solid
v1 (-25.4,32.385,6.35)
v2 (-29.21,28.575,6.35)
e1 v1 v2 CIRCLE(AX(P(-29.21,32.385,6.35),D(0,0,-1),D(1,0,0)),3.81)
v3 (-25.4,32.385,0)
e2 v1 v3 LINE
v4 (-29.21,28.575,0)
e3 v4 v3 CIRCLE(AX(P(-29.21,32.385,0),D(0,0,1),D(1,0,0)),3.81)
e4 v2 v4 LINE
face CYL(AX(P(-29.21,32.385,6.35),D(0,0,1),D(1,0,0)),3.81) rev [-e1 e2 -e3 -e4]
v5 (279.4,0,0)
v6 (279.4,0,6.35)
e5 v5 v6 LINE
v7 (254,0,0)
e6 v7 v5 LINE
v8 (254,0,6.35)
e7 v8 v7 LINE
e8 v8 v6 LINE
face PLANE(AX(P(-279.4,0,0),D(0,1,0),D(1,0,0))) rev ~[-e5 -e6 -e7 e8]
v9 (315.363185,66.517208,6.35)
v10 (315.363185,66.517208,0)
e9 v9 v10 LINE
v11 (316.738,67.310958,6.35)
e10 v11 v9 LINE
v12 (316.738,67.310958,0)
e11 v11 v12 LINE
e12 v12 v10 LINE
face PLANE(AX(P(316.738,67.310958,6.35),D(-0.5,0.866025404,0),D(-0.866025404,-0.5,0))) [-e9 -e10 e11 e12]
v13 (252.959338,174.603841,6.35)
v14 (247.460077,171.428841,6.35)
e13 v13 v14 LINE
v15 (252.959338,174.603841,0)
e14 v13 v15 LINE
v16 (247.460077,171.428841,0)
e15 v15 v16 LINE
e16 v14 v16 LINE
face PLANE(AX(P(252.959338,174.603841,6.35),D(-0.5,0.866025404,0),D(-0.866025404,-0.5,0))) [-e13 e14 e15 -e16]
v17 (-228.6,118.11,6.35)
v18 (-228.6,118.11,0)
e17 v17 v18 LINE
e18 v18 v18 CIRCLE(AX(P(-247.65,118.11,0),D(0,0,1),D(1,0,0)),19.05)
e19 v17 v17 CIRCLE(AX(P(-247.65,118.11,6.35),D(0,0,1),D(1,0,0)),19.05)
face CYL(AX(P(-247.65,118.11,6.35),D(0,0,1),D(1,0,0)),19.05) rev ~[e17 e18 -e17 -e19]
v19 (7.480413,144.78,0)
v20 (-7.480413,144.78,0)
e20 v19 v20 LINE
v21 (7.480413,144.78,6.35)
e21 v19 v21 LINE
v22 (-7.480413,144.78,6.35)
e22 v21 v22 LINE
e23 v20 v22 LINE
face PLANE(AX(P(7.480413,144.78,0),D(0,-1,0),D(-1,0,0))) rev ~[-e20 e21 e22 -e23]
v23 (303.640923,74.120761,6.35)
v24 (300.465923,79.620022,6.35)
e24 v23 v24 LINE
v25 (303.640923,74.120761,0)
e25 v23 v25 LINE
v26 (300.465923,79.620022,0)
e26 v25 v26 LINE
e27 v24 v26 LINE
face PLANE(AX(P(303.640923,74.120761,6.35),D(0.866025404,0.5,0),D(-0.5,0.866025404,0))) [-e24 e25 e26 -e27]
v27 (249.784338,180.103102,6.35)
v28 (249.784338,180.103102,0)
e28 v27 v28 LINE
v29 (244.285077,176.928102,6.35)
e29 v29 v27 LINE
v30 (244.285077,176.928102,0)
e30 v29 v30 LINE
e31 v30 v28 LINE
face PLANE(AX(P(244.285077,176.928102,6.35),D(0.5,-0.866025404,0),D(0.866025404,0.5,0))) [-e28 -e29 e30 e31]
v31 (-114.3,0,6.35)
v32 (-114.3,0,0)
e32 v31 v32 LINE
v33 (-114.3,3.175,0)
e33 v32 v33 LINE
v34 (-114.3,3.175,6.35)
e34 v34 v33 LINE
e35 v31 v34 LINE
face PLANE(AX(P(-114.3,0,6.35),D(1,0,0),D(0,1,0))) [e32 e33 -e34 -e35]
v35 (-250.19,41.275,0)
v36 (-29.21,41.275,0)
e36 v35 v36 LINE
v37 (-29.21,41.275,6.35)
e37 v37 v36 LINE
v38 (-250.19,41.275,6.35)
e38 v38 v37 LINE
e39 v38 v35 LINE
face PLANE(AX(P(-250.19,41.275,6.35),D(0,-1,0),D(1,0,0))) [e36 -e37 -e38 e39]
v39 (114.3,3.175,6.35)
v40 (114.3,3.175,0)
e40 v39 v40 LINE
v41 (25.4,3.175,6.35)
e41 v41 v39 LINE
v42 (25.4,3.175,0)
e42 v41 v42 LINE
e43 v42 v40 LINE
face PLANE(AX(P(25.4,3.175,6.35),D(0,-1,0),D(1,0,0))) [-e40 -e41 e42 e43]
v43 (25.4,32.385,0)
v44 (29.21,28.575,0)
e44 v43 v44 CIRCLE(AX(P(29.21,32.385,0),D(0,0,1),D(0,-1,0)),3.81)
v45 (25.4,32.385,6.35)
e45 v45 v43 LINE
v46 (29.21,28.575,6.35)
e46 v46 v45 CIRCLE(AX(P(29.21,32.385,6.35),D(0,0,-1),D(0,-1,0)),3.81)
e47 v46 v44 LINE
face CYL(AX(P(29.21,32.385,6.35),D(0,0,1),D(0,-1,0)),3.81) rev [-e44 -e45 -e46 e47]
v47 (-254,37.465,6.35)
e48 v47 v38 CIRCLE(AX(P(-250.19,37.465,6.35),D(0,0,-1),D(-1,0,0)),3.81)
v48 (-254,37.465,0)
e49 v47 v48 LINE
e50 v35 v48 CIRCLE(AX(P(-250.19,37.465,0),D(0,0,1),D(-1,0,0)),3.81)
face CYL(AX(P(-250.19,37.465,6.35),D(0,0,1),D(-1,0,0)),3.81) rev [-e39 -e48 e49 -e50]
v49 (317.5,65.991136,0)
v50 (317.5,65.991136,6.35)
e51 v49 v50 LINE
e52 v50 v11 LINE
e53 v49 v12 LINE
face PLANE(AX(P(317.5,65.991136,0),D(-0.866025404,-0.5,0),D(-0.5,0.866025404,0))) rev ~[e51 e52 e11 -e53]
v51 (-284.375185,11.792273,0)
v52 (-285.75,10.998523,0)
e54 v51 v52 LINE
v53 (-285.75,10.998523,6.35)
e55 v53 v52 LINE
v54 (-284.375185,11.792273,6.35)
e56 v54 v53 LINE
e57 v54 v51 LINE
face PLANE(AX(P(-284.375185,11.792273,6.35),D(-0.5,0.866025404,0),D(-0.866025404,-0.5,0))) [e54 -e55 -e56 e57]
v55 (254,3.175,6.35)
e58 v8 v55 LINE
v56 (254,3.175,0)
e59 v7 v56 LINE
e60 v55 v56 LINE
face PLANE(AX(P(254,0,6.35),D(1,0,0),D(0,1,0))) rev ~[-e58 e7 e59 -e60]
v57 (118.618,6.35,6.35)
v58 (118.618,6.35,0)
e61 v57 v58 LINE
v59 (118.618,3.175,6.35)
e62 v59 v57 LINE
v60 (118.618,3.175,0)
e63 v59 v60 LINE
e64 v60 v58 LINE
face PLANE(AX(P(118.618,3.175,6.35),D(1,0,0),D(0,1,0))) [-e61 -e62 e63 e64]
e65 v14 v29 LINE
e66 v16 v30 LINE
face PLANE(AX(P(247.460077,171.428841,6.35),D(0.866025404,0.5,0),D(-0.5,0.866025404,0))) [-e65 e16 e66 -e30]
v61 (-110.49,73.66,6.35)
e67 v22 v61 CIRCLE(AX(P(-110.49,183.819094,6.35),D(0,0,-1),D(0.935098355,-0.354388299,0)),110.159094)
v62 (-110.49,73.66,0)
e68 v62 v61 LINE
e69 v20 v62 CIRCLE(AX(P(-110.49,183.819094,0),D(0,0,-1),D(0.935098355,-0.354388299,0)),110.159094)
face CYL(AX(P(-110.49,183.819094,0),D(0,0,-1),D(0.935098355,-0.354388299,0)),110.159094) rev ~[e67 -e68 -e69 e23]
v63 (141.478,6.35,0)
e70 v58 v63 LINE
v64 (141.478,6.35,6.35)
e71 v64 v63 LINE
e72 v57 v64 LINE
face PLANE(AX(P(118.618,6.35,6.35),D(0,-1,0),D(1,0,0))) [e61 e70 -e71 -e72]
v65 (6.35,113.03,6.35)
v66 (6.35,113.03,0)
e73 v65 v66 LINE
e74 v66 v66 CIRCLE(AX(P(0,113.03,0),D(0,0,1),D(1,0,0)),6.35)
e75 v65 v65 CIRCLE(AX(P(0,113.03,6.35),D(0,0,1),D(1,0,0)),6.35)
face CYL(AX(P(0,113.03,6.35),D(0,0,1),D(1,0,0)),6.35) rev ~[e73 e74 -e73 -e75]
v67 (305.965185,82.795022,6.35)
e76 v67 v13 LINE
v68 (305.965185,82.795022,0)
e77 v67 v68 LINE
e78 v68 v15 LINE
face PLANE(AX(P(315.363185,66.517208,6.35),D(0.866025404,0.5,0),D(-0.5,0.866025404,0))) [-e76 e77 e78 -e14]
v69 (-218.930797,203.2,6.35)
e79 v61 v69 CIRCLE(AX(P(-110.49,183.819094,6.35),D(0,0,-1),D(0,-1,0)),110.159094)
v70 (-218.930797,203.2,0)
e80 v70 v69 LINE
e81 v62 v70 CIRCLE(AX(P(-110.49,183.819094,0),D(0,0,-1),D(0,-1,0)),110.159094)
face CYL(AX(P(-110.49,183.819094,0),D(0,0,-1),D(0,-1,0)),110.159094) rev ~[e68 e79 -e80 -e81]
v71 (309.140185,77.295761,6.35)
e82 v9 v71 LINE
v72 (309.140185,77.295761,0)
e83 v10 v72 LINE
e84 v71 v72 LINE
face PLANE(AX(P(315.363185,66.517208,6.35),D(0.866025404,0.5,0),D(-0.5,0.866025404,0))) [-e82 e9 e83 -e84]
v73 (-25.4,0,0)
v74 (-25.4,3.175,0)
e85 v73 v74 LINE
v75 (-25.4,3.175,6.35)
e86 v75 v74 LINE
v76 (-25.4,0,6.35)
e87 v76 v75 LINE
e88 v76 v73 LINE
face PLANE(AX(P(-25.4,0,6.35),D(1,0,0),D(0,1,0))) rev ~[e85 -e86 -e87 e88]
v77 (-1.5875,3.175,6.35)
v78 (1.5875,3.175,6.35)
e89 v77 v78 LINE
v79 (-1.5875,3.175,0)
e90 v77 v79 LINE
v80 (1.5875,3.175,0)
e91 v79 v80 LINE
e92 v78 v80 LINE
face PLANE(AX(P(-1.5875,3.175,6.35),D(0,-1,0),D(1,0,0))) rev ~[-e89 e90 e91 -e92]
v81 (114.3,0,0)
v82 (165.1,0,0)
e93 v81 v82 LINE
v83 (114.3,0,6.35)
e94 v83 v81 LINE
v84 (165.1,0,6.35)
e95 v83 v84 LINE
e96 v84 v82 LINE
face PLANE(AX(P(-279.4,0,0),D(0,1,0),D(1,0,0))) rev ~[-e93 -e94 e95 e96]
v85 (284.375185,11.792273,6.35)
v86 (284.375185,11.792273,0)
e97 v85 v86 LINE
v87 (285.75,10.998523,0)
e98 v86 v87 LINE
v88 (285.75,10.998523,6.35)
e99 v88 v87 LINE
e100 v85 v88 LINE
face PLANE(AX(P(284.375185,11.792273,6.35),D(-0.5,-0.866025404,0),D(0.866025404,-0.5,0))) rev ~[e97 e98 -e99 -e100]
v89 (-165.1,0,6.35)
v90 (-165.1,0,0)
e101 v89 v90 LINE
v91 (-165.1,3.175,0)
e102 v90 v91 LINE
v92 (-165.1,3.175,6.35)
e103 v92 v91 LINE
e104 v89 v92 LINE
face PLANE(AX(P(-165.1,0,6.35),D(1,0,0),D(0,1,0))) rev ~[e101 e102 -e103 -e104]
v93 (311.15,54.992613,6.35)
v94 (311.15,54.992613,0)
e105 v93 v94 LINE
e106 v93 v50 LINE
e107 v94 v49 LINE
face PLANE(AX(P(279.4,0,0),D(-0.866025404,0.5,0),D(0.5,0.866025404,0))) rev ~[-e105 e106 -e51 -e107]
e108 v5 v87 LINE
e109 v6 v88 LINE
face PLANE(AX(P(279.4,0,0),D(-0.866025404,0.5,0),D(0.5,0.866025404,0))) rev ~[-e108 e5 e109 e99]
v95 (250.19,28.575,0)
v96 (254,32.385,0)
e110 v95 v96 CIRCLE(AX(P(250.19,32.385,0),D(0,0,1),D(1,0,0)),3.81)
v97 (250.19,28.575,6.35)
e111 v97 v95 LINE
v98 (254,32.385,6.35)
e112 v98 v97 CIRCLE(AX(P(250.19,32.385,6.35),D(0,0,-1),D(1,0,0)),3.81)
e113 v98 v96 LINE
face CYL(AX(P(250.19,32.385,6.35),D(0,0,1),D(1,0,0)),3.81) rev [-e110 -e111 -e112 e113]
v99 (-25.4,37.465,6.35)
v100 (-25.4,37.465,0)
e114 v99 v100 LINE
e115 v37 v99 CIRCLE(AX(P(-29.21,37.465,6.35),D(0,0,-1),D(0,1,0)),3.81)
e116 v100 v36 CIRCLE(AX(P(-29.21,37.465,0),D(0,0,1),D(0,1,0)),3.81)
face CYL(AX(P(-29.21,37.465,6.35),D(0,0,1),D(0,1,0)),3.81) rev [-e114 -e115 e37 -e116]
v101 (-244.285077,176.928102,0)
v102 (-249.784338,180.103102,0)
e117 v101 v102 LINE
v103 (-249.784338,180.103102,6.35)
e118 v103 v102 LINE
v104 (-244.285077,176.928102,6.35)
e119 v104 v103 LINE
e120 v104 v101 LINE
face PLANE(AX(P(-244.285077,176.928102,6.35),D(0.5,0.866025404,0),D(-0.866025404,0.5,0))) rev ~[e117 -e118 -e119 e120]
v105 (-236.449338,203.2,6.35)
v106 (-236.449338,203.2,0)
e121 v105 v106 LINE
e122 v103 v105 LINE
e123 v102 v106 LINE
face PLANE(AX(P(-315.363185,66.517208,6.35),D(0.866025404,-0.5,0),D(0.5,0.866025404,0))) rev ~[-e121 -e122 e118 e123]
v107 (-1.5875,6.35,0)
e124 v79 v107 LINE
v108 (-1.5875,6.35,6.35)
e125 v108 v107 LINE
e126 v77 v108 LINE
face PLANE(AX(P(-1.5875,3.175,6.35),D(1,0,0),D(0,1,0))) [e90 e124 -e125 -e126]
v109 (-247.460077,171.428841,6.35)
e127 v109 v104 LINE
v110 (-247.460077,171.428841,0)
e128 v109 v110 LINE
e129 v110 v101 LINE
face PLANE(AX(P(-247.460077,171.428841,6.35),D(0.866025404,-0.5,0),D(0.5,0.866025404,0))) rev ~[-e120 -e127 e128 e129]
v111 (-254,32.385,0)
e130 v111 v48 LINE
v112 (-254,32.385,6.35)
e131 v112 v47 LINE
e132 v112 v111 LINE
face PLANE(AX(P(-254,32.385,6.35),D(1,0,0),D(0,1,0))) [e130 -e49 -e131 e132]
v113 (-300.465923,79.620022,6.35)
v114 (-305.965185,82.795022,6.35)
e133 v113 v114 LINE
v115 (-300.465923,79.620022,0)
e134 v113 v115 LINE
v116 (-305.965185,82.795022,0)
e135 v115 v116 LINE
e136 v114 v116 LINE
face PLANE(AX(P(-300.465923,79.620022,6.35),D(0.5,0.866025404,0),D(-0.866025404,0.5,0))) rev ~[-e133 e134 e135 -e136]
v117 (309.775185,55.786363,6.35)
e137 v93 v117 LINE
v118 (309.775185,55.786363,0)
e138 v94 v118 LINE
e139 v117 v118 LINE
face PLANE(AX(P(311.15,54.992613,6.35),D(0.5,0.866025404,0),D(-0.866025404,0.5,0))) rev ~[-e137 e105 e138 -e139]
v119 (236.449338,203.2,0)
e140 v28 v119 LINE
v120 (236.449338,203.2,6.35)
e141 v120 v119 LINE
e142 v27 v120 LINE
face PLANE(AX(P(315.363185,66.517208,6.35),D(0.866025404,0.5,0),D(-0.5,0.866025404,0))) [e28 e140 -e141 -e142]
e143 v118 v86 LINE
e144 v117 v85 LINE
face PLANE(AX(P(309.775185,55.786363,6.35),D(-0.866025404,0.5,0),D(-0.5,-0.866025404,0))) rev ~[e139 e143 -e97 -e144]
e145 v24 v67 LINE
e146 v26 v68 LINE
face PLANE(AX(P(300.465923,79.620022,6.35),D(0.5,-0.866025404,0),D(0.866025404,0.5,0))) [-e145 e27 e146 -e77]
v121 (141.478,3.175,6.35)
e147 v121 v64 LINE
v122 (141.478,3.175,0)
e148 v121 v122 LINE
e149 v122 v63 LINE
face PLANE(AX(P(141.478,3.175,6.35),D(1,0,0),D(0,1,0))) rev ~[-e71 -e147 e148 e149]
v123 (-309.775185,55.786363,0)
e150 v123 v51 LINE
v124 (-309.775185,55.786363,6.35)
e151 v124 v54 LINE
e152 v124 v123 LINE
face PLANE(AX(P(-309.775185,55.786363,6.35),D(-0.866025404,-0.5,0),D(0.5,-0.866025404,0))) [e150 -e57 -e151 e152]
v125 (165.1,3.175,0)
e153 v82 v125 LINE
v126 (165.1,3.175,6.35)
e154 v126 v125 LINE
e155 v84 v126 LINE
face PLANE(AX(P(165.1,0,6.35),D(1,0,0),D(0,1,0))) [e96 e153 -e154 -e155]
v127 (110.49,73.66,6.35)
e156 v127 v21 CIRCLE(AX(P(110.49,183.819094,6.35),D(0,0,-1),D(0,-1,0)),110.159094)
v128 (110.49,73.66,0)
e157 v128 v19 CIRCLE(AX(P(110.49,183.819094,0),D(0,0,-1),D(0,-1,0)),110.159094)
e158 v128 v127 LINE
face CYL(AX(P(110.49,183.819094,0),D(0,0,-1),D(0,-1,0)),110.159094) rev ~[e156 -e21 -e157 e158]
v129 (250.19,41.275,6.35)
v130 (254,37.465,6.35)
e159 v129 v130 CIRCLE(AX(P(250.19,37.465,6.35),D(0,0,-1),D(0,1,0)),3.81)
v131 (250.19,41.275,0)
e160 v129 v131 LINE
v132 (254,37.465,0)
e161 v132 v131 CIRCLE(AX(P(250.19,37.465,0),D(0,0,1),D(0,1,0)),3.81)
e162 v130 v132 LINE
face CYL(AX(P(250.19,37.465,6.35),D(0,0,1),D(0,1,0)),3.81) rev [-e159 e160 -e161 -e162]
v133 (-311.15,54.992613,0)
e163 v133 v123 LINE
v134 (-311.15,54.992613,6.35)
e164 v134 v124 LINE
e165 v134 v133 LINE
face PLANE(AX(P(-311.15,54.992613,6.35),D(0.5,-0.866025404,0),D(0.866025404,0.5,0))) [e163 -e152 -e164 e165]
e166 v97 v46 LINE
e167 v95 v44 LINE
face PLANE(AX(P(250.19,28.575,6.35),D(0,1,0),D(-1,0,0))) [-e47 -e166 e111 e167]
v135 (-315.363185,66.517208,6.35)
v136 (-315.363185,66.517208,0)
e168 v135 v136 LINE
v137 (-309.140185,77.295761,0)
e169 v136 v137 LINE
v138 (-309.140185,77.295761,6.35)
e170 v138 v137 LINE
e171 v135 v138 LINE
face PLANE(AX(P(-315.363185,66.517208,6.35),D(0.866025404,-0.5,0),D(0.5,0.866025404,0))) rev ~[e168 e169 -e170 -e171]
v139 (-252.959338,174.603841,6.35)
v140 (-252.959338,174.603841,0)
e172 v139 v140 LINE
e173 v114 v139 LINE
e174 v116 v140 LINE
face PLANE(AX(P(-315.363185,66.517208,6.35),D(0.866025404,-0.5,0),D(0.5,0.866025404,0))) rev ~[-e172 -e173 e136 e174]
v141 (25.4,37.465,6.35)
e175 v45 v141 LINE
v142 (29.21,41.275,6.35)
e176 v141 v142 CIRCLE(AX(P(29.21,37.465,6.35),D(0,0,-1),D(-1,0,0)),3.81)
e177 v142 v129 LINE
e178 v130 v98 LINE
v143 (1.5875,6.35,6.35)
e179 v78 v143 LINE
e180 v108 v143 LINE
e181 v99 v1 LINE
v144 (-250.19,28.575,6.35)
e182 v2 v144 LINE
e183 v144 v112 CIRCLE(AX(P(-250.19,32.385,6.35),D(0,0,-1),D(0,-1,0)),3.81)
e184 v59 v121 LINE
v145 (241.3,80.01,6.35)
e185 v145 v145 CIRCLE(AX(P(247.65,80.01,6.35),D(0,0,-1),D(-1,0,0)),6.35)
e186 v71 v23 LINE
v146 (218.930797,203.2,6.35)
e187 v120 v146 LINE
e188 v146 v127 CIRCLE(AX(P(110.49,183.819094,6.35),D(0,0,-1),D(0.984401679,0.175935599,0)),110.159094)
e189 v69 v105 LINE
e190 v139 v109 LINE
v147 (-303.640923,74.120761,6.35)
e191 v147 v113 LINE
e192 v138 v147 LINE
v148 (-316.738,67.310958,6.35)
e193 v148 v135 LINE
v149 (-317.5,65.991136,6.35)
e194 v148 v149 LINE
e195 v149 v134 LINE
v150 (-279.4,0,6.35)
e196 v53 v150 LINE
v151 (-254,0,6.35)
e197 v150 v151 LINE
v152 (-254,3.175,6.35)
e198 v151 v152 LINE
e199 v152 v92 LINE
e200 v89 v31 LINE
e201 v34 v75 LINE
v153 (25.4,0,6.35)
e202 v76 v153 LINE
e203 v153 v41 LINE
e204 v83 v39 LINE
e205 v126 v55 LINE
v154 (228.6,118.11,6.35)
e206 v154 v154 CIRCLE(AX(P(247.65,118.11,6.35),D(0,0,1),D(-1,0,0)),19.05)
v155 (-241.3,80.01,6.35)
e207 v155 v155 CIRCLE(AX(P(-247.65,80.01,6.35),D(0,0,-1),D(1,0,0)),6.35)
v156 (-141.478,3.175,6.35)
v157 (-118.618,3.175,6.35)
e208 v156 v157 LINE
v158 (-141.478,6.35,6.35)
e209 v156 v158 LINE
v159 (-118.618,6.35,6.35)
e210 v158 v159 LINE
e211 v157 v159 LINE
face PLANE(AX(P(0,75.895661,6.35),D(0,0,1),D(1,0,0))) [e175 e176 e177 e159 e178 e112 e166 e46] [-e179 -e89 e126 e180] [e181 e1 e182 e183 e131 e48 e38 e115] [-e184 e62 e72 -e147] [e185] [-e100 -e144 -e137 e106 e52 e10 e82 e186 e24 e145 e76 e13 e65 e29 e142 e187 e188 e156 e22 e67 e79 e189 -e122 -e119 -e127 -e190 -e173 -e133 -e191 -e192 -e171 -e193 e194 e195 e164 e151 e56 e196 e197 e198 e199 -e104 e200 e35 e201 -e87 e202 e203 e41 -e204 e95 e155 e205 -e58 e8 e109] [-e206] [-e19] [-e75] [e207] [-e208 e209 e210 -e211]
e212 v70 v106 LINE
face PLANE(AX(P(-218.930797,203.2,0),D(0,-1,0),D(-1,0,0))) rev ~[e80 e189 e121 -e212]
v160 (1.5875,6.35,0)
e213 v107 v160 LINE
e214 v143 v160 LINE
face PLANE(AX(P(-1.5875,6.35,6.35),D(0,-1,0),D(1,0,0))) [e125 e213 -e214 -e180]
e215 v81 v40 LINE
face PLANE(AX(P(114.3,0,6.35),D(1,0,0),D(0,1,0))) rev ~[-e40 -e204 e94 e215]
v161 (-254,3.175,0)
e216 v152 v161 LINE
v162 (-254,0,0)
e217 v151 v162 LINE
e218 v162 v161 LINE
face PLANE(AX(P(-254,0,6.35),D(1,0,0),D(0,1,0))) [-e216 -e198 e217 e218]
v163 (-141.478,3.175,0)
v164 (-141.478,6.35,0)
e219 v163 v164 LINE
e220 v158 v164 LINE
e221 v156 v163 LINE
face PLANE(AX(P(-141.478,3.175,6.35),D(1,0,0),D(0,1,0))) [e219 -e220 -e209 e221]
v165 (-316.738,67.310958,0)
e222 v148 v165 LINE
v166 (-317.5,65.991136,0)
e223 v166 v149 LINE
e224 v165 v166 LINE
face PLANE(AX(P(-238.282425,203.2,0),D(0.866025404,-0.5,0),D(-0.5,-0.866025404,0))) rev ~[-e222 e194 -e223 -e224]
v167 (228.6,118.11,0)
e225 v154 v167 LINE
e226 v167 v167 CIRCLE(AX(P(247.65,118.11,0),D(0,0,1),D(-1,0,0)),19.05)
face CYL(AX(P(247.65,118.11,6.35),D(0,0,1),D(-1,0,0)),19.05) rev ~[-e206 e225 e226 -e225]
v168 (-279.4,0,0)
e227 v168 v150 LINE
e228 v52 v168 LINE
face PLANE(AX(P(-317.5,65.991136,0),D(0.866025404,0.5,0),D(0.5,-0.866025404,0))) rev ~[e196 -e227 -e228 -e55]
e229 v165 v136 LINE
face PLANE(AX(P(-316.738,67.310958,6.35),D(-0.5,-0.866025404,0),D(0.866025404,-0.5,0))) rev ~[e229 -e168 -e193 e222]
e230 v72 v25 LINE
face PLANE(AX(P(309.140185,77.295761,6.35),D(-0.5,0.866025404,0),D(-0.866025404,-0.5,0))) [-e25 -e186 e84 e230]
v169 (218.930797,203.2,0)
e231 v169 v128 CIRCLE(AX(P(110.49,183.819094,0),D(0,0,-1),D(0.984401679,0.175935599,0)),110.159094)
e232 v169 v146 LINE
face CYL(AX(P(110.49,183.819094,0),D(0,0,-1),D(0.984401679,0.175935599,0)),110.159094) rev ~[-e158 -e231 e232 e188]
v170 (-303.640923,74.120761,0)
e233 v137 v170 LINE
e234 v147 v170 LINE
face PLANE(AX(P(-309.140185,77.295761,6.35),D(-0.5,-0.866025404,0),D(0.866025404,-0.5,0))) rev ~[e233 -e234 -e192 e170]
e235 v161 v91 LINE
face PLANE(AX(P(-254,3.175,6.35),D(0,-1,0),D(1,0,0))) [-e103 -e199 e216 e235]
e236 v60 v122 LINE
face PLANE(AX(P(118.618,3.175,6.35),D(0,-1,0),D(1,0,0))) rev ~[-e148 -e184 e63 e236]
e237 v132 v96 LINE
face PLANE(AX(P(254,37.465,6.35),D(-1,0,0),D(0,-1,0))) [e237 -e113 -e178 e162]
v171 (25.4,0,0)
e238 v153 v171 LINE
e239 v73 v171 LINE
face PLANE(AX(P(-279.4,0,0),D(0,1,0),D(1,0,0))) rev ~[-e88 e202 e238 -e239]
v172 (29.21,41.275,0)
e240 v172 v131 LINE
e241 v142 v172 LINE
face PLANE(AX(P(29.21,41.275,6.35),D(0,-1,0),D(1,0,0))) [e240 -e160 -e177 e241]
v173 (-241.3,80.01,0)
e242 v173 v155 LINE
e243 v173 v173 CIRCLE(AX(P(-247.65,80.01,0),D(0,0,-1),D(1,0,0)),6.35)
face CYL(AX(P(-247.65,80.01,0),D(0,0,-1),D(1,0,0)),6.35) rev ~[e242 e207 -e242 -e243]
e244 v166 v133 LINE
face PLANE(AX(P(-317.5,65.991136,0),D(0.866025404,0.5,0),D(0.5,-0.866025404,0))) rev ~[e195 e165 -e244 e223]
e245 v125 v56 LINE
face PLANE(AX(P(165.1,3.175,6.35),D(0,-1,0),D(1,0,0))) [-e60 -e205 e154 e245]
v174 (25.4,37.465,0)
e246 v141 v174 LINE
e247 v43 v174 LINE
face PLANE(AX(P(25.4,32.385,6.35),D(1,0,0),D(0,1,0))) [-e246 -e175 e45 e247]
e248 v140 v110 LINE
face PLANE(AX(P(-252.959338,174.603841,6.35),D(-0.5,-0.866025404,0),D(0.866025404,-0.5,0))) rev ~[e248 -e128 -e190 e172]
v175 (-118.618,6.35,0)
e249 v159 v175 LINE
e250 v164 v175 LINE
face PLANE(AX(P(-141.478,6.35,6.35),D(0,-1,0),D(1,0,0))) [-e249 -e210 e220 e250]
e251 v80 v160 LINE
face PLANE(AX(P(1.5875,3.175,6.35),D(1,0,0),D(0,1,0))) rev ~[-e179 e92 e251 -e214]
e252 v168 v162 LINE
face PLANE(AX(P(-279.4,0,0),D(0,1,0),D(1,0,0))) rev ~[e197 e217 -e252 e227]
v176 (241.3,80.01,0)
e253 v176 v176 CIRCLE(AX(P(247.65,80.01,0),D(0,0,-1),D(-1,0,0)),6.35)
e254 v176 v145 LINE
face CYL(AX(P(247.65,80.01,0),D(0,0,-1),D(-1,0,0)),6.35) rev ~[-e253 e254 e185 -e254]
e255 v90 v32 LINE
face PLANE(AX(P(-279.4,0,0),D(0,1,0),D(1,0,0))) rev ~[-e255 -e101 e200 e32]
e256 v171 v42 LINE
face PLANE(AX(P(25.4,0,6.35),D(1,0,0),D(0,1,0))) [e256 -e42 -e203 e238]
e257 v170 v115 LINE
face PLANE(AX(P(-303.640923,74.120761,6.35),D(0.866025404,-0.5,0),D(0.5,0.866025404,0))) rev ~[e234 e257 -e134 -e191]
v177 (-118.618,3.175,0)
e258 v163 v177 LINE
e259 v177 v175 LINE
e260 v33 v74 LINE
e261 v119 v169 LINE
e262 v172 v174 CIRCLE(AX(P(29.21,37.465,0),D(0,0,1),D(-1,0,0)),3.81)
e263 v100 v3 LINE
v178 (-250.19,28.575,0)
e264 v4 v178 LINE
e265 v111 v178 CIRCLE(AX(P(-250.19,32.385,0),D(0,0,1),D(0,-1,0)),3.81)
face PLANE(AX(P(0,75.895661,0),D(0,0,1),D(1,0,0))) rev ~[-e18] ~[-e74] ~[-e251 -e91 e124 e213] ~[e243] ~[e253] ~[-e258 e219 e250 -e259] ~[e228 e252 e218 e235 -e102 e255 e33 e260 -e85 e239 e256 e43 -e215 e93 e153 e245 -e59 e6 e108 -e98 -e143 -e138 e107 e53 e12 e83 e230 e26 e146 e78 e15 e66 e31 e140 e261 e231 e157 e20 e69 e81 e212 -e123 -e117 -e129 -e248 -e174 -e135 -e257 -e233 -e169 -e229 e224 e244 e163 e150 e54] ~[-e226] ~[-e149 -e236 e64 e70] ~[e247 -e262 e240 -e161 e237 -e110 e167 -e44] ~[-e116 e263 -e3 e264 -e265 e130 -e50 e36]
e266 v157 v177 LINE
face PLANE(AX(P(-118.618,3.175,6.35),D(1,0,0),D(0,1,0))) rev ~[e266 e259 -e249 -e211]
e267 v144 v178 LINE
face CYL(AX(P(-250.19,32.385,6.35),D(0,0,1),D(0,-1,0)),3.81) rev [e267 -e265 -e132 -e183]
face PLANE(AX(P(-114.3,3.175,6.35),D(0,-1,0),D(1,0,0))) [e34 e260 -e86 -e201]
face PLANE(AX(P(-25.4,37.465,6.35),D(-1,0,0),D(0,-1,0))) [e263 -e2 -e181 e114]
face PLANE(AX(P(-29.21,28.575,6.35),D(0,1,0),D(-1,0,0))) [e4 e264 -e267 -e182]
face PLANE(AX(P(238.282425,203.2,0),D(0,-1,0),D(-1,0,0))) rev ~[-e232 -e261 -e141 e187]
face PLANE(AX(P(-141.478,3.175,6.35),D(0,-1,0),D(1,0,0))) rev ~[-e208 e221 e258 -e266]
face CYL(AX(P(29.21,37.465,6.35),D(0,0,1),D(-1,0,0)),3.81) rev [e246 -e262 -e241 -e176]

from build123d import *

# Parameters (mm, degrees)
BOSS_EXTRUDE1_DEPTH       = 6.35
SKETCH4_W                 = 88.9
SKETCH4_H                 = 3.175
CUT_EXTRUDE1_DEPTH        = 378.010361263
CUT_EXTRUDE2_DEPTH        = 378.010361263
CUT_EXTRUDE5_DEPTH        = 378.010361263
CUT_EXTRUDE6_DEPTH        = 378.010361263
SKETCH12_W                = 22.86
SKETCH12_H                = 3.175
SKETCH12_W_2              = 3.175
CUT_EXTRUDE8_DEPTH        = 378.010361263
NYLON_BOLT_CUT_REACH      = 379.01
SKETCH13_R                = 6.35
SKETCH14_R                = 19.05
CUT_EXTRUDE9_DEPTH        = 378.010361263
SKETCH15_R                = 6.35
STATIC_PAYLOAD_BOLT_DEPTH = 378.010361263
CUT_EXTRUDE10_DEPTH       = 378.010361263


with BuildPart() as part:
    # Sketch3 → Boss-Extrude1 (new body)
    with BuildSketch(Plane.XY):
        with BuildLine():
            Line((-317.5, 65.991135768), (-279.4, 0))
            Line((-279.4, 0), (279.4, 0))
            Line((279.4, 0), (317.5, 65.991135768))
            Line((317.5, 65.991135768), (238.282425301, 203.2))
            Line((238.282425301, 203.2), (218.930796924, 203.2))
            ThreePointArc((218.930796924, 203.2), (194.958955891, 113.108264062), (110.49, 73.66))
            ThreePointArc((110.49, 73.66), (47.902002926, 93.167184987), (7.48041253, 144.78))
            Line((7.48041253, 144.78), (-7.48041253, 144.78))
            ThreePointArc((-7.48041253, 144.78), (-47.902002926, 93.167184987), (-110.49, 73.66))
            ThreePointArc((-110.49, 73.66), (-194.958955891, 113.108264062), (-218.930796924, 203.2))
            Line((-218.930796924, 203.2), (-238.282425301, 203.2))
            Line((-238.282425301, 203.2), (-317.5, 65.991135768))
        make_face()
    extrude(amount=BOSS_EXTRUDE1_DEPTH)

    # Sketch4 → Cut-Extrude1 (cut, through all)
    with BuildSketch(Plane.XY.offset(6.35)):
        with Locations((-209.55, 1.5875)):
            Rectangle(SKETCH4_W, SKETCH4_H)
        with Locations((-69.85, 1.5875)):
            Rectangle(SKETCH4_W, SKETCH4_H)
        with Locations((69.85, 1.5875)):
            Rectangle(SKETCH4_W, SKETCH4_H)
        with Locations((209.55, 1.5875)):
            Rectangle(SKETCH4_W, SKETCH4_H)
    extrude(amount=-CUT_EXTRUDE1_DEPTH, mode=Mode.SUBTRACT)

    # Sketch5 → Cut-Extrude2 (cut, through all)
    with BuildSketch(Plane.XY.offset(6.35)):
        Polygon((-311.15, 54.99261314), (-309.775184671, 55.78636314), (-284.375184671, 11.792272628), (-285.75, 10.998522628), align=None)
        Polygon((285.75, 10.998522628), (311.15, 54.99261314), (309.775184671, 55.78636314), (284.375184671, 11.792272628), align=None)
    extrude(amount=-CUT_EXTRUDE2_DEPTH, mode=Mode.SUBTRACT)

    # Sketch8 → Cut-Extrude5 (cut, through all)
    with BuildSketch(Plane.XY.offset(6.35)):
        Polygon((-315.363184671, 66.517208484), (-236.449338196, 203.2), (-238.282425301, 203.2), (-316.738, 67.310958484), align=None)
        Polygon((316.738, 67.310958484), (315.363184671, 66.517208484), (236.449338196, 203.2), (238.282425301, 203.2), align=None)
    extrude(amount=-CUT_EXTRUDE5_DEPTH, mode=Mode.SUBTRACT)

    # Sketch9 → Cut-Extrude6 (cut, through all)
    with BuildSketch(Plane.XY.offset(6.35)):
        Polygon((-252.959338196, 174.603841167), (-247.460076882, 171.428841167), (-244.285076882, 176.928102481), (-249.784338196, 180.103102481), align=None)
        Polygon((249.784338196, 180.103102481), (252.959338196, 174.603841167), (247.460076882, 171.428841167), (244.285076882, 176.928102481), align=None)
        Polygon((-303.640923357, 74.120760659), (-300.465923357, 79.620021973), (-305.965184671, 82.795021973), (-309.140184671, 77.295760659), align=None)
        Polygon((305.965184671, 82.795021973), (309.140184671, 77.295760659), (303.640923357, 74.120760659), (300.465923357, 79.620021973), align=None)
    extrude(amount=-CUT_EXTRUDE6_DEPTH, mode=Mode.SUBTRACT)

    # Sketch12 → Cut-Extrude8 (cut, through all)
    with BuildSketch(Plane.XY.offset(6.35)):
        with Locations((-130.048, 4.7625)):
            Rectangle(SKETCH12_W, SKETCH12_H)
        with Locations((130.048, 4.7625)):
            Rectangle(SKETCH12_W, SKETCH12_H)
        with Locations((0, 4.7625)):
            Rectangle(SKETCH12_W_2, SKETCH12_H)
    extrude(amount=-CUT_EXTRUDE8_DEPTH, mode=Mode.SUBTRACT)

    # Sketch13 → nylon bolt cut (cut, up to next)
    with BuildSketch(Plane(origin=(0, 0, 0), x_dir=(-1, 0, 0), z_dir=(0, 0, -1)), mode=Mode.PRIVATE) as nylon_bolt_cut_sk1:
        with Locations((-247.65, 80.01)):
            Circle(SKETCH13_R)
    nylon_bolt_cut_tool1 = extrude(nylon_bolt_cut_sk1.sketch, amount=-NYLON_BOLT_CUT_REACH, mode=Mode.PRIVATE) & part.part
    # Sketch13 → nylon bolt cut (cut, up to next)
    with BuildSketch(Plane(origin=(0, 0, 0), x_dir=(-1, 0, 0), z_dir=(0, 0, -1)), mode=Mode.PRIVATE) as nylon_bolt_cut_sk2:
        with Locations(Location((247.65, 80.01, 0), (0, 0, 180))):
            Circle(SKETCH13_R)
    nylon_bolt_cut_tool2 = extrude(nylon_bolt_cut_sk2.sketch, amount=-NYLON_BOLT_CUT_REACH, mode=Mode.PRIVATE) & part.part
    add(nylon_bolt_cut_tool1.solids().sort_by_distance((247.65, 80.01, 0))[0], mode=Mode.SUBTRACT)
    add(nylon_bolt_cut_tool2.solids().sort_by_distance((-247.65, 80.01, 0))[0], mode=Mode.SUBTRACT)

    # Sketch14 → Cut-Extrude9 (cut, through all)
    with BuildSketch(Plane.XY.offset(6.35)):
        with Locations((-247.65, 118.11)):
            Circle(SKETCH14_R)
        with Locations(Location((247.65, 118.11, 0), (0, 0, 180))):
            Circle(SKETCH14_R)
    extrude(amount=-CUT_EXTRUDE9_DEPTH, mode=Mode.SUBTRACT)

    # Sketch15 → static payload bolt (cut, through all)
    with BuildSketch(Plane.XY.offset(6.35)):
        with Locations((0, 113.03)):
            Circle(SKETCH15_R)
    extrude(amount=-STATIC_PAYLOAD_BOLT_DEPTH, mode=Mode.SUBTRACT)

    # Sketch16 → Cut-Extrude10 (cut, through all)
    with BuildSketch(Plane.XY.offset(6.35)):
        with BuildLine():
            Line((-250.19, 41.275), (-29.21, 41.275))
            ThreePointArc((-29.21, 41.275), (-26.515923164, 40.159076836), (-25.4, 37.465))
            Line((-25.4, 37.465), (-25.4, 32.385))
            ThreePointArc((-25.4, 32.385), (-26.515923164, 29.690923164), (-29.21, 28.575))
            Line((-29.21, 28.575), (-250.19, 28.575))
            ThreePointArc((-250.19, 28.575), (-252.884076836, 29.690923164), (-254, 32.385))
            Line((-254, 32.385), (-254, 37.465))
            ThreePointArc((-254, 37.465), (-252.884076836, 40.159076836), (-250.19, 41.275))
        make_face()
        with BuildLine():
            Line((254, 37.465), (254, 32.385))
            ThreePointArc((254, 32.385), (252.884076836, 29.690923164), (250.19, 28.575))
            Line((250.19, 28.575), (29.21, 28.575))
            ThreePointArc((29.21, 28.575), (26.515923164, 29.690923164), (25.4, 32.385))
            Line((25.4, 32.385), (25.4, 37.465))
            ThreePointArc((25.4, 37.465), (26.515923164, 40.159076836), (29.21, 41.275))
            Line((29.21, 41.275), (250.19, 41.275))
            ThreePointArc((250.19, 41.275), (252.884076836, 40.159076836), (254, 37.465))
        make_face()
    extrude(amount=-CUT_EXTRUDE10_DEPTH, mode=Mode.SUBTRACT)


solid = part.part
